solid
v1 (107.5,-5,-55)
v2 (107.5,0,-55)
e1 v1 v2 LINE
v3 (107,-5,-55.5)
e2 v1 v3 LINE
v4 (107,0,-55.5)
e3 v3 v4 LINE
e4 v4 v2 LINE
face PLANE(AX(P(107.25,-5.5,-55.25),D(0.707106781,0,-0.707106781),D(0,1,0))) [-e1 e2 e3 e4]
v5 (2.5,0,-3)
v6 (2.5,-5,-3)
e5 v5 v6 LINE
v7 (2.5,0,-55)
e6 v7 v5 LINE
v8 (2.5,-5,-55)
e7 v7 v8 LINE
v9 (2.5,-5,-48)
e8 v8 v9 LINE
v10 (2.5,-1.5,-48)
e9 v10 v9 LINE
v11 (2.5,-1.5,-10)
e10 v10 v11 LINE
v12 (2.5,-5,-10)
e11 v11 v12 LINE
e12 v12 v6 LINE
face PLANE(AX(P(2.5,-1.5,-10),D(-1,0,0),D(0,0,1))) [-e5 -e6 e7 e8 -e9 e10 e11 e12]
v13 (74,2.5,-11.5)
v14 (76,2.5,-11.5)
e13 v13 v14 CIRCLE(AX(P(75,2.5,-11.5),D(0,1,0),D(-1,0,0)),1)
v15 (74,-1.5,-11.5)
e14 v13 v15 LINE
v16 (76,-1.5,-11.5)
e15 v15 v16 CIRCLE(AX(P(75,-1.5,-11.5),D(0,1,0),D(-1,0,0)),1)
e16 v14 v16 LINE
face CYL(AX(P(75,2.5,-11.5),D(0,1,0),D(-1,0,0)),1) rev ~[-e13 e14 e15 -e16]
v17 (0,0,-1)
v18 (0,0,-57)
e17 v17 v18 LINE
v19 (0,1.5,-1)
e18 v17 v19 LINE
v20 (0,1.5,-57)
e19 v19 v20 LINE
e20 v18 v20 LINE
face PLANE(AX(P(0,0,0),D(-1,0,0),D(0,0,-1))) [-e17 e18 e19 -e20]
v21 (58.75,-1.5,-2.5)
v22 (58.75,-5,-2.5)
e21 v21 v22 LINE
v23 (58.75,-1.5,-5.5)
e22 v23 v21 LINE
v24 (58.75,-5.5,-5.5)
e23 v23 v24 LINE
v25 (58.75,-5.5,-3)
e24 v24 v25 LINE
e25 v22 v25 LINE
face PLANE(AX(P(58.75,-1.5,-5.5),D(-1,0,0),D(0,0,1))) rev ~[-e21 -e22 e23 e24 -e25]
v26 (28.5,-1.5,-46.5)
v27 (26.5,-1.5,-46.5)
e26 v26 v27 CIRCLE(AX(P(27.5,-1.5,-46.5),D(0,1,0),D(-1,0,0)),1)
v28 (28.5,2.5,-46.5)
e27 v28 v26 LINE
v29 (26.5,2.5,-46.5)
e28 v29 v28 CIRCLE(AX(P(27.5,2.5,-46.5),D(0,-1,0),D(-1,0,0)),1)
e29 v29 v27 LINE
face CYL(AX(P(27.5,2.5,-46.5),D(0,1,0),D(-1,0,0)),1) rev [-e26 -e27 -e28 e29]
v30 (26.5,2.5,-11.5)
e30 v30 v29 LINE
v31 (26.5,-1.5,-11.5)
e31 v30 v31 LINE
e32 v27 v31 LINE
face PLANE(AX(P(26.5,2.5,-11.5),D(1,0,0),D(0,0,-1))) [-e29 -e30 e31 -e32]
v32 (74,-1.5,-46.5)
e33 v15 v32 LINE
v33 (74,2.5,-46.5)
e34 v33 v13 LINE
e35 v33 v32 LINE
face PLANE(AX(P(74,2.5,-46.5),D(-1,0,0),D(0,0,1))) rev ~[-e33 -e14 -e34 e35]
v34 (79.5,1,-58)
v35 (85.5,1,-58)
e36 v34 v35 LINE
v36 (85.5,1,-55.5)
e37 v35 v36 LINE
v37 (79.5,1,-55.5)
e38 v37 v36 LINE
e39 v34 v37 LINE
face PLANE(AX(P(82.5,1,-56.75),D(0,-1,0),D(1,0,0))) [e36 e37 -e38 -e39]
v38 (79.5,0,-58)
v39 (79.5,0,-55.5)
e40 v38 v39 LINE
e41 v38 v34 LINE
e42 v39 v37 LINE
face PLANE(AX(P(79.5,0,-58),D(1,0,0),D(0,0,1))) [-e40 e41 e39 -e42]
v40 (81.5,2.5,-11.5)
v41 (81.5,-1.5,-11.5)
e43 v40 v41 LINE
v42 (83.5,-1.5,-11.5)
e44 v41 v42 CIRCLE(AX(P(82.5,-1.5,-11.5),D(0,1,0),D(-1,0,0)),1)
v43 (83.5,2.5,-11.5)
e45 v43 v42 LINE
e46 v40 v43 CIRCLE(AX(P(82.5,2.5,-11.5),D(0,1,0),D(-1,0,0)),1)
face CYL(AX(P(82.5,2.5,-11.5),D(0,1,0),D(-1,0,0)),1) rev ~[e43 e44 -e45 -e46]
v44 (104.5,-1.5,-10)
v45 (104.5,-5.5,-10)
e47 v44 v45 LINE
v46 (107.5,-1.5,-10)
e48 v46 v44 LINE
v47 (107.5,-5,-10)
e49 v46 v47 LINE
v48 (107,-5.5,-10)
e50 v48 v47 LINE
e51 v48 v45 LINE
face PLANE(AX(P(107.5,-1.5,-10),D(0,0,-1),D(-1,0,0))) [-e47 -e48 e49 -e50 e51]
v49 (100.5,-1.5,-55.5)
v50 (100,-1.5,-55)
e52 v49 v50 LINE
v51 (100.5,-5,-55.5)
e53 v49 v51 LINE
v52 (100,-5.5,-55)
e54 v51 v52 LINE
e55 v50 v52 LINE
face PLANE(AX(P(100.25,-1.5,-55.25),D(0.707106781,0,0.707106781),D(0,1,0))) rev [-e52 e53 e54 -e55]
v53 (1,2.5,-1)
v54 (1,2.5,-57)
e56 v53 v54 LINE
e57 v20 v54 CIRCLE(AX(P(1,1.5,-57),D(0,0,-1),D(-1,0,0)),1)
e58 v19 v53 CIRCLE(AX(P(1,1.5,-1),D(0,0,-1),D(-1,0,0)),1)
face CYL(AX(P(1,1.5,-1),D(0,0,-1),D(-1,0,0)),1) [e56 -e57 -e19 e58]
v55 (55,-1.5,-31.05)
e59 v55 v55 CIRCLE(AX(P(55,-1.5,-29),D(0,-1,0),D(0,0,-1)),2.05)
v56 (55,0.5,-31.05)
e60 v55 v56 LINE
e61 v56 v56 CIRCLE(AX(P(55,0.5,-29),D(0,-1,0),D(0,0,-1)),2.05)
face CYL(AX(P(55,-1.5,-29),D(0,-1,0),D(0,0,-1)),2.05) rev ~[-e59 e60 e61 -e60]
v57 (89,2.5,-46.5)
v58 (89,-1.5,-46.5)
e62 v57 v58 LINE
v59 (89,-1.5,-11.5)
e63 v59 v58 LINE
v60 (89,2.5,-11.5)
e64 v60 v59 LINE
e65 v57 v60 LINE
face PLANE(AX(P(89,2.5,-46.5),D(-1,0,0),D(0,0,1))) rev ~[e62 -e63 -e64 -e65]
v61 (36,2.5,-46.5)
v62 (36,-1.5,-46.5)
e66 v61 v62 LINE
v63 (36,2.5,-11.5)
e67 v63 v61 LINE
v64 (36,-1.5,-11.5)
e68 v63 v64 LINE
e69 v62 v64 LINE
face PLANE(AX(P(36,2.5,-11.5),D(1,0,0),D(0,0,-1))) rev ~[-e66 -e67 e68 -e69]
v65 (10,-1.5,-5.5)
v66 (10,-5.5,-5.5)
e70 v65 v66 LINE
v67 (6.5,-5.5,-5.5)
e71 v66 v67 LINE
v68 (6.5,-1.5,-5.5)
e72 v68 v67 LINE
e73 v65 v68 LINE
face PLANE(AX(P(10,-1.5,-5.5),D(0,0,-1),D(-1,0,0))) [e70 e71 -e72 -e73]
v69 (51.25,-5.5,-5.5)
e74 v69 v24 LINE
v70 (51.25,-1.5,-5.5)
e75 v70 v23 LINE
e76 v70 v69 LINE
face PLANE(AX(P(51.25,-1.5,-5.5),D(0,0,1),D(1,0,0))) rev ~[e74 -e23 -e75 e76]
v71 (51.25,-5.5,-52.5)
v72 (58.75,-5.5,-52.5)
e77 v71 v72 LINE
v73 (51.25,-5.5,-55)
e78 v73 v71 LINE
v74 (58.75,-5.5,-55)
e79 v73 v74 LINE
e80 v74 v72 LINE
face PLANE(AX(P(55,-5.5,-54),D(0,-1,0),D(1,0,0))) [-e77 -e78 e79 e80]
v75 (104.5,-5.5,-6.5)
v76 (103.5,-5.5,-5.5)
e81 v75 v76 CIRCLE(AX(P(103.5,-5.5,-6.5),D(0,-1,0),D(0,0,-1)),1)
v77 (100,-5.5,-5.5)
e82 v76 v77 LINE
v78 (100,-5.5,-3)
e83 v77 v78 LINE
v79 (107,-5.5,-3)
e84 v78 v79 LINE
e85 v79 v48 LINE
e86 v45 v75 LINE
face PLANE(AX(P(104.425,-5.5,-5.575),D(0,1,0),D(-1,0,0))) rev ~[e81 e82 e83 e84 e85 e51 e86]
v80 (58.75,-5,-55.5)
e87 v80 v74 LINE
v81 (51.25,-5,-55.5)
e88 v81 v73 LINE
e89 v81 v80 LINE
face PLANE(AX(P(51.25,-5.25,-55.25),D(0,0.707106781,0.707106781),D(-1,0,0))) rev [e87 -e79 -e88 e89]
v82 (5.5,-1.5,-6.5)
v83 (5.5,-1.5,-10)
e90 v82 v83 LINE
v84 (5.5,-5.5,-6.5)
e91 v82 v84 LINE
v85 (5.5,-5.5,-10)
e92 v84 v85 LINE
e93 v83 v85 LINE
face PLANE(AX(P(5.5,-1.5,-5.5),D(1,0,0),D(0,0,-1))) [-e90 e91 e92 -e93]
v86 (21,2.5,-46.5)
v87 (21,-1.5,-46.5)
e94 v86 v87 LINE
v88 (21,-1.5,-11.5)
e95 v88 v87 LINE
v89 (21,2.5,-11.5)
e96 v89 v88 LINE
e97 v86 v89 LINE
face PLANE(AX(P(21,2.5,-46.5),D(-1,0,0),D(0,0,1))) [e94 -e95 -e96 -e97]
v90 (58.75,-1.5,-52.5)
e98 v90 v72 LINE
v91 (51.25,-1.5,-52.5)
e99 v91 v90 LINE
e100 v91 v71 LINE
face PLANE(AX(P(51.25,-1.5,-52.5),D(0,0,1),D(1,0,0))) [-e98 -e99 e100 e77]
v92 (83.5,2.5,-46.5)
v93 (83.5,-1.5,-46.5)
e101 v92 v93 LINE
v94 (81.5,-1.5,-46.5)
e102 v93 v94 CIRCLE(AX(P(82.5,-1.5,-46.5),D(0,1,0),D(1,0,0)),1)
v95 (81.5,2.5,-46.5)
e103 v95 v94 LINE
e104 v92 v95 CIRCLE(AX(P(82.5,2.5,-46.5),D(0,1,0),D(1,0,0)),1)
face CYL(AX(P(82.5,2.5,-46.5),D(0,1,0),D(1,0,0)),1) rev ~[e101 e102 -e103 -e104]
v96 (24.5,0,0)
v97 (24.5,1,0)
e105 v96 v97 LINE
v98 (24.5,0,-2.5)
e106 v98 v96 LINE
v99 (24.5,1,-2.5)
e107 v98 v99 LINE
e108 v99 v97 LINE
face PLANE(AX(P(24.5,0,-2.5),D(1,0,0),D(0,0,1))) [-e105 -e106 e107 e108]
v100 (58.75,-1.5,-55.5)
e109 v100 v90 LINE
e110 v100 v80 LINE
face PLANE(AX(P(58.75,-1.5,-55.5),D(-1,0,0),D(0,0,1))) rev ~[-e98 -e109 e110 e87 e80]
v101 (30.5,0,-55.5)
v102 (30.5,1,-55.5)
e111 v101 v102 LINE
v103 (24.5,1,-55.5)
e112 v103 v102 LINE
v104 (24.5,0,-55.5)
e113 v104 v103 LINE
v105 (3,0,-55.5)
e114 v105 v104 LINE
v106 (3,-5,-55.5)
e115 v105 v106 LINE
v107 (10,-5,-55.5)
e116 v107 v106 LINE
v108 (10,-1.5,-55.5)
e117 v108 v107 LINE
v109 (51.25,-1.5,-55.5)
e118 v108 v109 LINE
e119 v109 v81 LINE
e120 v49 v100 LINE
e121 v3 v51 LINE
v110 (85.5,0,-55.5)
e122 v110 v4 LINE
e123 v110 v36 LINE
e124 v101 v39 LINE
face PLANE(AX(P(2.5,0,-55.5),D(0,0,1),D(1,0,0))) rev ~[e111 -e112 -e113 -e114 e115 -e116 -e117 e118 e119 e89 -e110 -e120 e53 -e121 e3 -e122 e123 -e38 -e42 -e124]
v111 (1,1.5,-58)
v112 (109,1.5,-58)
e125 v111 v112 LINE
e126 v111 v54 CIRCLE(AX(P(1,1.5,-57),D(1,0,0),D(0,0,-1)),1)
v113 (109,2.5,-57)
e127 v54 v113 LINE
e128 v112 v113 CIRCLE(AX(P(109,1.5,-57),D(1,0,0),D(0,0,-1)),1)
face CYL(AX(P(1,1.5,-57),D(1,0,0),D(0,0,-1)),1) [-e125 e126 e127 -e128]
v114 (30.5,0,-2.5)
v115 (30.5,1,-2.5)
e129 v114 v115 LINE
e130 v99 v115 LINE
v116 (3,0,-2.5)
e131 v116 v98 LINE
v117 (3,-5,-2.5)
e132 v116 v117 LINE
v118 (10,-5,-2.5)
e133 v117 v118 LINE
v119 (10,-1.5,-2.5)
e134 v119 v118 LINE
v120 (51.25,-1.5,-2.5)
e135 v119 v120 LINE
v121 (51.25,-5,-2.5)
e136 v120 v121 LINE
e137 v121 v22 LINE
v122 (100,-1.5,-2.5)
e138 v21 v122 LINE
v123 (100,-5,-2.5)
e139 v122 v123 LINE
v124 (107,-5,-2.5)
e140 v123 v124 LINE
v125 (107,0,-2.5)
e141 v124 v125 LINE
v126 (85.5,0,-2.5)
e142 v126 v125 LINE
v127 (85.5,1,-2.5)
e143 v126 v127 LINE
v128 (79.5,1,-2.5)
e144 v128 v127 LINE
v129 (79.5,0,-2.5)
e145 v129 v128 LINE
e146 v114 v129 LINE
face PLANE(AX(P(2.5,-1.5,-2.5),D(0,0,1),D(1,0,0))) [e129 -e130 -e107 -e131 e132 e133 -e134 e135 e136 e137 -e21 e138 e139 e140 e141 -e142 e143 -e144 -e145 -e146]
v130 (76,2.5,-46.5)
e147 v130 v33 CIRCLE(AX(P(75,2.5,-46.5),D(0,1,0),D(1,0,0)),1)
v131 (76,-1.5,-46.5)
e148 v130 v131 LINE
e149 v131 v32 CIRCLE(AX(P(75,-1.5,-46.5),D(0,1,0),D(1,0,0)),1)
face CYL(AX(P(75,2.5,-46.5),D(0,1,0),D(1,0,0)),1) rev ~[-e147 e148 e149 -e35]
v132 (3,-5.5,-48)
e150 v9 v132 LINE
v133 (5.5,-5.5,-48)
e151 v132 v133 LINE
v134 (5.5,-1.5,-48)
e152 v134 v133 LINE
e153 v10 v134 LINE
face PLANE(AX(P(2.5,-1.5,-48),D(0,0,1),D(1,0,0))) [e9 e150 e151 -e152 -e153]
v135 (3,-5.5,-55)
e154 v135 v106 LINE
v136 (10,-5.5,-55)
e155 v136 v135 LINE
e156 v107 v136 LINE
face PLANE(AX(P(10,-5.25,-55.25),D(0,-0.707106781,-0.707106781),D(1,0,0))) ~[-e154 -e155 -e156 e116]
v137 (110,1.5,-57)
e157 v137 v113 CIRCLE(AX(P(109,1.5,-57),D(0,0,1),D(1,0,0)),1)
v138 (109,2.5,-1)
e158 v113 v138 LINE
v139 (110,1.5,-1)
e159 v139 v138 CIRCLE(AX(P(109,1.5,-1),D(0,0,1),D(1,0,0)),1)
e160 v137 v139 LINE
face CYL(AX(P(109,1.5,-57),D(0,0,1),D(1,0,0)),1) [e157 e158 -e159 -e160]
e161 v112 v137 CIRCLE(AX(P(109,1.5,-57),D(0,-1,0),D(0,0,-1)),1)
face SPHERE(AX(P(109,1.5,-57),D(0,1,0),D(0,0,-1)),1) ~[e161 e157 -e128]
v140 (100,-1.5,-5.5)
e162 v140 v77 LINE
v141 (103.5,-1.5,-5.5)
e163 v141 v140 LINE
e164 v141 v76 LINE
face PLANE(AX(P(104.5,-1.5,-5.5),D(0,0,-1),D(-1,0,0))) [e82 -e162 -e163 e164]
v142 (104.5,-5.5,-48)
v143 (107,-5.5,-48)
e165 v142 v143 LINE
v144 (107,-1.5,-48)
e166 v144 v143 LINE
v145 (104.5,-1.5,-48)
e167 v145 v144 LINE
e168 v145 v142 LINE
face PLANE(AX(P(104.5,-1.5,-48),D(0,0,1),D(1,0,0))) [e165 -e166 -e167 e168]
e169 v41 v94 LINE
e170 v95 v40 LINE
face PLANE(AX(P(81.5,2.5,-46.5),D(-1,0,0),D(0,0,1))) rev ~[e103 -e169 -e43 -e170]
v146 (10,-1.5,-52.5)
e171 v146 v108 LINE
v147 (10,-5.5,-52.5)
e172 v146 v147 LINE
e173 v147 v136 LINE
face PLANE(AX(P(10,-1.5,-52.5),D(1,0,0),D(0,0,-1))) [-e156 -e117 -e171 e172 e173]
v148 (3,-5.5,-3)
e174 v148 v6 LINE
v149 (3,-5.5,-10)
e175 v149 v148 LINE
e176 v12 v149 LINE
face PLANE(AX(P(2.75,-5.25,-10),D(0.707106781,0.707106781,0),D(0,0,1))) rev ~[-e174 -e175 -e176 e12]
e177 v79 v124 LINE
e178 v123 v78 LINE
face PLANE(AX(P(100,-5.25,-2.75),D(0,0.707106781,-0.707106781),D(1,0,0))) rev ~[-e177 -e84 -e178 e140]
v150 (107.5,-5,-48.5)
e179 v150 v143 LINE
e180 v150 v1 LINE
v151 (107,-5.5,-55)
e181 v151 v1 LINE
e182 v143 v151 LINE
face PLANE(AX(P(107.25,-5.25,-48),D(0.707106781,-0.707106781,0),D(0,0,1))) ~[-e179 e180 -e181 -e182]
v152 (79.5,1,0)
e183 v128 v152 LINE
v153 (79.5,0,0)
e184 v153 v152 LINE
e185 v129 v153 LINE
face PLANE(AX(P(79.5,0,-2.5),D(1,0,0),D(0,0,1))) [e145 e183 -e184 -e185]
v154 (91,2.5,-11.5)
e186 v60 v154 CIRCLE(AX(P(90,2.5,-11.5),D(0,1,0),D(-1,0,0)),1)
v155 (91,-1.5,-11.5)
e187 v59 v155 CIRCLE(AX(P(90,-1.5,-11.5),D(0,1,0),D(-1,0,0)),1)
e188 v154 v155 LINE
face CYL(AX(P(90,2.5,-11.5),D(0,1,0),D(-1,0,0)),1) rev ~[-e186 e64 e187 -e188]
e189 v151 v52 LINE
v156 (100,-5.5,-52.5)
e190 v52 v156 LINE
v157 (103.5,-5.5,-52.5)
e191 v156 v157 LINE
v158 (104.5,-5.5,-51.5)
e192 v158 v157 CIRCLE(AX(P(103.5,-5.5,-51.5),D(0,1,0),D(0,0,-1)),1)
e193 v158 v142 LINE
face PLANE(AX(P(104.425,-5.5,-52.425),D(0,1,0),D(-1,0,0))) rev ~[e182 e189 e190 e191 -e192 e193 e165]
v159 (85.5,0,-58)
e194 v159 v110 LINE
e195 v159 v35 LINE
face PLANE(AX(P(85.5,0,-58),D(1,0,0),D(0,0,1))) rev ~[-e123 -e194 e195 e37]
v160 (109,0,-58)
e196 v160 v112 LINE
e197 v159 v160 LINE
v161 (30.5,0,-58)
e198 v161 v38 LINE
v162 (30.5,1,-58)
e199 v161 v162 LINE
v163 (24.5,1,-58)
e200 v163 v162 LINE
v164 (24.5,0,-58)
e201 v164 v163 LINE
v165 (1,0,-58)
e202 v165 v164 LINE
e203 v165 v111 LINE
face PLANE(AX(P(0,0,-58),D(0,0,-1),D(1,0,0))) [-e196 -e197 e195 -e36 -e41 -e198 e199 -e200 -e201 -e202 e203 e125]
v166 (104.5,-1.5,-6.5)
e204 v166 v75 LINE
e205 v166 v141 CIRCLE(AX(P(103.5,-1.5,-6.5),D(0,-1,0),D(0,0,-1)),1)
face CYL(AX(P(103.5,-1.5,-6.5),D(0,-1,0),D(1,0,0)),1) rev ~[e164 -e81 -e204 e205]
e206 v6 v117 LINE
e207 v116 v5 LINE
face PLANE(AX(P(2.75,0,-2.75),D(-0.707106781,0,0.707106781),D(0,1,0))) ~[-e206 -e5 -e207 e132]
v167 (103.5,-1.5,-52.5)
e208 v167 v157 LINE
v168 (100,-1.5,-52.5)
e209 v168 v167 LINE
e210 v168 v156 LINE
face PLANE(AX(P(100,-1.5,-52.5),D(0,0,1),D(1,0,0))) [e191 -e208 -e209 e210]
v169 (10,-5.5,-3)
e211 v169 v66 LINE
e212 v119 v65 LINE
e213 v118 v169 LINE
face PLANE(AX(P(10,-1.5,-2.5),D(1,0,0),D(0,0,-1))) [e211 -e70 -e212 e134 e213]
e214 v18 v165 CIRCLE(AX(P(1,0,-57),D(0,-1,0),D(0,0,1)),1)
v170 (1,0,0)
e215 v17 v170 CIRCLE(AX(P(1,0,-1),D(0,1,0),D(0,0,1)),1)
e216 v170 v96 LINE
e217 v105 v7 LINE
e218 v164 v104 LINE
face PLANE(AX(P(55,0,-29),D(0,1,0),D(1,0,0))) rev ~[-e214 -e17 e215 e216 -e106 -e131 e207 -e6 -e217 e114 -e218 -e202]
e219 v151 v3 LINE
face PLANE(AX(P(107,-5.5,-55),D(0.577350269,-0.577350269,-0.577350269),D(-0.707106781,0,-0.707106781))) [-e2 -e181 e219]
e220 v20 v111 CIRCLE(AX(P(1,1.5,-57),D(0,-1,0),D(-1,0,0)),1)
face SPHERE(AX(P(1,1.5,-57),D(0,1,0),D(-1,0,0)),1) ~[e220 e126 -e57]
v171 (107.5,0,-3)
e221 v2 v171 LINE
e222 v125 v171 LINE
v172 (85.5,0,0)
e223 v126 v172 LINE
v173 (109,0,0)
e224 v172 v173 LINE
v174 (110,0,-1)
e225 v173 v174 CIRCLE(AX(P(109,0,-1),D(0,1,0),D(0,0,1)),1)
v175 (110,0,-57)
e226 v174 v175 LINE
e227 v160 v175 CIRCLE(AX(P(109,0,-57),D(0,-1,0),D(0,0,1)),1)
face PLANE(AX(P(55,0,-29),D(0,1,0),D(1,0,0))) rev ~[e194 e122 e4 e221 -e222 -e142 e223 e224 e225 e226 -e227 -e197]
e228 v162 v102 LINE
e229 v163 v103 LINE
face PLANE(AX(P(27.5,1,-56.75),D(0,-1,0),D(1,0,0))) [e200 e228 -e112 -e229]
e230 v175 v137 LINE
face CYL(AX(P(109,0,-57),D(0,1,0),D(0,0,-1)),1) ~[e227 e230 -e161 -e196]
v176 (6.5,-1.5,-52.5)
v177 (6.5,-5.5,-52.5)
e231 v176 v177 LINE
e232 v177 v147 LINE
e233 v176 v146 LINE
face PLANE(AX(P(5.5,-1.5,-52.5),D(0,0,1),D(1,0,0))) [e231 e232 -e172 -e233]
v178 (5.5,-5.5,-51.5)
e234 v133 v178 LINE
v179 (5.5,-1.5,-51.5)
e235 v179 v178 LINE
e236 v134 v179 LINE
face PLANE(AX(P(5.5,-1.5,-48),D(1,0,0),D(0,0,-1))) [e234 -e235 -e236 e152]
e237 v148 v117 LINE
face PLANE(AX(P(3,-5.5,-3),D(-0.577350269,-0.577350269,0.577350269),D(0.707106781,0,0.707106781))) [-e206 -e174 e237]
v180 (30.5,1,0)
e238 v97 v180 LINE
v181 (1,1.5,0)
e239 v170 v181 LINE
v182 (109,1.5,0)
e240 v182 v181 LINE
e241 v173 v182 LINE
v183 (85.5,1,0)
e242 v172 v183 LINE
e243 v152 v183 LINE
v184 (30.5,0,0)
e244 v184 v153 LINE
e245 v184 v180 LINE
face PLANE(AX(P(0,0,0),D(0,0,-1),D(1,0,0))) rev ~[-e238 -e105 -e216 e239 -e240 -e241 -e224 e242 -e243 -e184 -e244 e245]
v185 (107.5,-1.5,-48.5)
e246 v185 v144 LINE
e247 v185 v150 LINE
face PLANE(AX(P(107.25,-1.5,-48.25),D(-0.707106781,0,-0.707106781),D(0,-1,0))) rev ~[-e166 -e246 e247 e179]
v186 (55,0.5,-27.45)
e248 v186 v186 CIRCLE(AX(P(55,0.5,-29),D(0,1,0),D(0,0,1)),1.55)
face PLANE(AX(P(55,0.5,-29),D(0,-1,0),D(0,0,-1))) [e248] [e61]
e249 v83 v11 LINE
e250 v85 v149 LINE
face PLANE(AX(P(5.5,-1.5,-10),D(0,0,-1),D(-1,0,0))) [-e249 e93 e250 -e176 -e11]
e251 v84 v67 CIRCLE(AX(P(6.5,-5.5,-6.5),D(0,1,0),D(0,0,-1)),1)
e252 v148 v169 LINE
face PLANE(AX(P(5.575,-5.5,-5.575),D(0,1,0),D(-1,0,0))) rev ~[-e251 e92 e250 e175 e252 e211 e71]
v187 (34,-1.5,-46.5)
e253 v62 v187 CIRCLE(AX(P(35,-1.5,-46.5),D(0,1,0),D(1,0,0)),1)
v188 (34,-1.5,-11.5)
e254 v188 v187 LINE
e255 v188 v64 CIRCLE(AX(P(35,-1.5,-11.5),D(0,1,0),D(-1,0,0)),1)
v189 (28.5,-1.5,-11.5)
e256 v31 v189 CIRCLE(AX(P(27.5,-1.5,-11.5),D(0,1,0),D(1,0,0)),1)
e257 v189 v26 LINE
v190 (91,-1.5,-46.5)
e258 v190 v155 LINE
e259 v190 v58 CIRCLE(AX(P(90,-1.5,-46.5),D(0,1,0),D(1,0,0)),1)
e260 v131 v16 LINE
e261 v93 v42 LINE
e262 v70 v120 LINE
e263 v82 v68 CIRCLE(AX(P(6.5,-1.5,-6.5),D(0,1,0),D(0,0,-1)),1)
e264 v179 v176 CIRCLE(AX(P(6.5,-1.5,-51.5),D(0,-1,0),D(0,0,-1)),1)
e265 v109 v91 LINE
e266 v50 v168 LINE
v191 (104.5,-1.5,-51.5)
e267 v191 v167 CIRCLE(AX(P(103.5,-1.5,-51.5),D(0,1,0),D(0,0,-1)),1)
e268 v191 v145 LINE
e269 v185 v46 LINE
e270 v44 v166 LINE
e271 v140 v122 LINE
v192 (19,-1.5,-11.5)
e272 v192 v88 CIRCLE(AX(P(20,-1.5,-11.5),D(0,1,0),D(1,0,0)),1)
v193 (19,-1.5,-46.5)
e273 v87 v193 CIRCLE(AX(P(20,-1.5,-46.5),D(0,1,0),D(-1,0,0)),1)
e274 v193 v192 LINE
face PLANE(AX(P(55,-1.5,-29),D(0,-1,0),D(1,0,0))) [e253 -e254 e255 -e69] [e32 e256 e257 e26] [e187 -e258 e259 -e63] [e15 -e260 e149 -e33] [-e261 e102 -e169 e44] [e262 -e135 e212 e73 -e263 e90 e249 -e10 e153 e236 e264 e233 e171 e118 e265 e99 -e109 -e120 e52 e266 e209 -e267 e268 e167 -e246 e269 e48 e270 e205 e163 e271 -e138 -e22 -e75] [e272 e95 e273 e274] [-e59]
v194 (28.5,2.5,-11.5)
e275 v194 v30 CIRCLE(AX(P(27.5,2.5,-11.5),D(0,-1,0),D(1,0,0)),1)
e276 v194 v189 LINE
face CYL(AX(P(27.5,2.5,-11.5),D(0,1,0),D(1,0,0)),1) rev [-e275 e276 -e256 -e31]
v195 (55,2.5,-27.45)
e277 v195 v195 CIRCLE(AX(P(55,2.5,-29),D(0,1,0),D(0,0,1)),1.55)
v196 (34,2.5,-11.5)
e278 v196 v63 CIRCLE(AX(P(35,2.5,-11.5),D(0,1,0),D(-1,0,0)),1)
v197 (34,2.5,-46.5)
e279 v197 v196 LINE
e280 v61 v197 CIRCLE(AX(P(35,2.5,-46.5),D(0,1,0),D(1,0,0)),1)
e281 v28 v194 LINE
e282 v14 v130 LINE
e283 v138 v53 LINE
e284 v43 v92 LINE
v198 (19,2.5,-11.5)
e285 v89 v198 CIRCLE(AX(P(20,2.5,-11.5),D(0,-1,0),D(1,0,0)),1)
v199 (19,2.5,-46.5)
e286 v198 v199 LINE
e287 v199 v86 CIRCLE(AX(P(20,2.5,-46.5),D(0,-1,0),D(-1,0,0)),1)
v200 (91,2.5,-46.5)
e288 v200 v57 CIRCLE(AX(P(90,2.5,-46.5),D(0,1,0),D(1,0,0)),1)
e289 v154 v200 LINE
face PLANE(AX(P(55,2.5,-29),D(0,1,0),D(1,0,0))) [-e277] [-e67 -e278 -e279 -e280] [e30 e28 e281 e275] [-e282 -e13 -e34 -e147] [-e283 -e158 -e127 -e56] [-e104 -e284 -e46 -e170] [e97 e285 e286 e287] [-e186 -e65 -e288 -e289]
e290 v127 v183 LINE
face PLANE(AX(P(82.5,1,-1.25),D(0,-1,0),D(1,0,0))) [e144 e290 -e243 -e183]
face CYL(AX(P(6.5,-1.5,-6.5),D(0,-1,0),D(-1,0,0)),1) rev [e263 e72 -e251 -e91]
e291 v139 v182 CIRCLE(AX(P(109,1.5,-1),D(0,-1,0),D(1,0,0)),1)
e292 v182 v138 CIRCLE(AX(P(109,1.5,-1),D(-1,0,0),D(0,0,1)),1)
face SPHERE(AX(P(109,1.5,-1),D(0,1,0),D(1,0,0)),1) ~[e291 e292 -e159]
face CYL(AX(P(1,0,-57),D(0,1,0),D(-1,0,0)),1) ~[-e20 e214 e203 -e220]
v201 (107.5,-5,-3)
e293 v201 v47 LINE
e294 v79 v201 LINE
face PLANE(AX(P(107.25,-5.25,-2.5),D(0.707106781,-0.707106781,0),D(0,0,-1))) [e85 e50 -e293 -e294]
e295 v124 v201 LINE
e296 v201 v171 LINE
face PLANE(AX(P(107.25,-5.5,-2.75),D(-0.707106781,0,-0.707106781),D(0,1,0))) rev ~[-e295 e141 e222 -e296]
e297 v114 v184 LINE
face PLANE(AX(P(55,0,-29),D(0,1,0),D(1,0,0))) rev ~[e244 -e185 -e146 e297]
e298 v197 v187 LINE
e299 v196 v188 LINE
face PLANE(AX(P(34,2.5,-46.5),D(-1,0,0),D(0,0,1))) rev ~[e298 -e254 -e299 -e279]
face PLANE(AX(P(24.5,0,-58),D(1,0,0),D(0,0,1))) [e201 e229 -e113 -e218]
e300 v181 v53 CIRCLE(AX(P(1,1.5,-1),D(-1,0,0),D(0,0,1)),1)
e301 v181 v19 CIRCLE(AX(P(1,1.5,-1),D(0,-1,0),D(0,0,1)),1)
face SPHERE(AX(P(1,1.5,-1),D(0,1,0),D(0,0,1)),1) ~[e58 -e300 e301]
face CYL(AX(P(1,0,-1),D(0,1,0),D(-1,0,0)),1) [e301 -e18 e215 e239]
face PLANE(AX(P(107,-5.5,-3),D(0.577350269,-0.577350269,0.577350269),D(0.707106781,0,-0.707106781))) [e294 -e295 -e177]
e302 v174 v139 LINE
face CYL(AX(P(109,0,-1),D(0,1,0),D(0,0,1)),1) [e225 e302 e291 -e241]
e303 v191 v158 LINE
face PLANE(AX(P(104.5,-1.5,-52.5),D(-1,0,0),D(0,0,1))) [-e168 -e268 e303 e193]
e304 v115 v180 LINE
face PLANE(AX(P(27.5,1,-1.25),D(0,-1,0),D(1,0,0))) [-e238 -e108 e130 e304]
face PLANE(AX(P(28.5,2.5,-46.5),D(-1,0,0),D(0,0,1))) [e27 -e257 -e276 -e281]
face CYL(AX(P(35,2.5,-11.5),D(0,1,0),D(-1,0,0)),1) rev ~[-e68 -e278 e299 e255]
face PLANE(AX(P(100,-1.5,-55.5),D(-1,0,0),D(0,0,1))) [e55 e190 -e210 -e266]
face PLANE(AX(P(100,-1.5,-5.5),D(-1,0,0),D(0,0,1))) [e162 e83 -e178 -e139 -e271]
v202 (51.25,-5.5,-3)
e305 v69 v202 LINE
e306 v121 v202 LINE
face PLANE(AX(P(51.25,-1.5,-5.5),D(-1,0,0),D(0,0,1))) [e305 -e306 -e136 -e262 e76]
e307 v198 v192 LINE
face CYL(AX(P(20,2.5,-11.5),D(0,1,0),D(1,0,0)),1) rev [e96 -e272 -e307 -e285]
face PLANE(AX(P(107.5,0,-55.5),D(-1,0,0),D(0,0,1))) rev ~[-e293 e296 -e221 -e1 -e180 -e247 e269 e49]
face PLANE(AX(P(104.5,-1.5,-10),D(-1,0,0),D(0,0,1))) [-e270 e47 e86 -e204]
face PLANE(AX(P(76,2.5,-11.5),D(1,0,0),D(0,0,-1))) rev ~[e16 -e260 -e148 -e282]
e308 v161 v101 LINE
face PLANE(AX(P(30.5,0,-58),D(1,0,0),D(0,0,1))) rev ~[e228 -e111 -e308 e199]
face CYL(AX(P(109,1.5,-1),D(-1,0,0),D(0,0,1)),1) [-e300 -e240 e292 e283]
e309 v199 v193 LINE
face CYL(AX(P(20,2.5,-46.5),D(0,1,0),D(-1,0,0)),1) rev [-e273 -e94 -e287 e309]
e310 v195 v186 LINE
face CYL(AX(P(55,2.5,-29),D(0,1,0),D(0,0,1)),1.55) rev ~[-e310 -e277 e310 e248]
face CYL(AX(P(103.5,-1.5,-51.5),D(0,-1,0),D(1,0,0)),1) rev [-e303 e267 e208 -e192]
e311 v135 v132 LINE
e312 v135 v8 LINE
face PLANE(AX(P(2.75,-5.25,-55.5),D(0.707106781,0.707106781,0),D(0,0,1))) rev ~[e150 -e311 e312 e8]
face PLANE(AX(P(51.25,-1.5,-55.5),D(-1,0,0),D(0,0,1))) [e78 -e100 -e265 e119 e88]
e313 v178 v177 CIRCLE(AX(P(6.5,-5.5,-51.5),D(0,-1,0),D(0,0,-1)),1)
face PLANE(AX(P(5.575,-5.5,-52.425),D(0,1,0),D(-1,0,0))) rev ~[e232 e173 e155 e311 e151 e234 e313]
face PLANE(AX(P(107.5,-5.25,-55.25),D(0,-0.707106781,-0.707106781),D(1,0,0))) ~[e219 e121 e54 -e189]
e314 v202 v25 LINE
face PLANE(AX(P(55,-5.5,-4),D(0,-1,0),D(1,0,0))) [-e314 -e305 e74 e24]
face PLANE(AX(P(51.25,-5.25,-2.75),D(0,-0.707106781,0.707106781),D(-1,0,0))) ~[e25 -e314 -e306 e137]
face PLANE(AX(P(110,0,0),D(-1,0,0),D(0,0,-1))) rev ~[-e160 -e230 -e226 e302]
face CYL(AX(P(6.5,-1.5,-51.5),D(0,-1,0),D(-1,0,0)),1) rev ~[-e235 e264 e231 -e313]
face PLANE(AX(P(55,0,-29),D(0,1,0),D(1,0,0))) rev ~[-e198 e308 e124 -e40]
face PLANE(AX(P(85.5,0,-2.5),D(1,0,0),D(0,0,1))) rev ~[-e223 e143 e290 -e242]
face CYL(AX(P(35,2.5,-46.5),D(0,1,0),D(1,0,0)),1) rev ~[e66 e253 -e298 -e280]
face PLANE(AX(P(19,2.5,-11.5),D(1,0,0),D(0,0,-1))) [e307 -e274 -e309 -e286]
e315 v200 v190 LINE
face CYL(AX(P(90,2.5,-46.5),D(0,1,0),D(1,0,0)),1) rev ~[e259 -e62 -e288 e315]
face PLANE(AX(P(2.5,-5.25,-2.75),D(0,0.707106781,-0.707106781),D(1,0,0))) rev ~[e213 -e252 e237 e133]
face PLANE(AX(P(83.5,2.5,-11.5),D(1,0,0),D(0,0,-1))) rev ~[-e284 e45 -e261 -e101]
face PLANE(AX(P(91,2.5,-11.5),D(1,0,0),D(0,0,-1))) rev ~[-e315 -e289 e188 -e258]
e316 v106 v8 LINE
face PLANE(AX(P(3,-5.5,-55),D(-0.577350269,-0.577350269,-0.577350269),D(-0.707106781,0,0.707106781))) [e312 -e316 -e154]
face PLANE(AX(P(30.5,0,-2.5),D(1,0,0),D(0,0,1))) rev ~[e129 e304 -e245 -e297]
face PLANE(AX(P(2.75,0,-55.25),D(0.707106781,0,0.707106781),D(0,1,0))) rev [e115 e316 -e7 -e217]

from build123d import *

# Parameters (mm, degrees)
SKETCH1_W           = 110
SKETCH1_H           = 58
BOSS_EXTRUDE1_DEPTH = 2.5
SKETCH2_W           = 105
SKETCH2_H           = 53
BOSS_EXTRUDE2_DEPTH = 1.5
SKETCH3_W           = 7.5
SKETCH3_H           = 3
BOSS_EXTRUDE3_DEPTH = 4
FILLET1_R           = 1
SKETCH4_W           = 6
SKETCH4_H           = 2.5
CUT_EXTRUDE1_DEPTH  = 1
FILLET2_R           = 1
CHAMFER1_SIZE       = 0.5
CUT_EXTRUDE2_DEPTH  = 125.611395948
FILLET3_R           = 1
SKETCH6_R           = 1.55
CUT_EXTRUDE3_DEPTH  = 125.611395948
SKETCH7_R           = 2.05
CUT_EXTRUDE4_DEPTH  = 2


with BuildPart() as part:
    # Sketch1 → Boss-Extrude1 (new body)
    with BuildSketch(Plane(origin=(0, 0, 0), x_dir=(1, 0, 0), z_dir=(0, 1, 0))):
        with Locations((55, 29)):
            Rectangle(SKETCH1_W, SKETCH1_H)
    extrude(amount=BOSS_EXTRUDE1_DEPTH)

    # Sketch2 → Boss-Extrude2 (add)
    with BuildSketch(Plane.XZ):
        with Locations((55, -29)):
            Rectangle(SKETCH2_W, SKETCH2_H)
    extrude(amount=BOSS_EXTRUDE2_DEPTH)

    # Sketch3 → Boss-Extrude3 (add)
    with BuildSketch(Plane.XZ.offset(1.5)):
        with Locations((55, -4)):
            Rectangle(SKETCH3_W, SKETCH3_H)
        Polygon((2.5, -2.5), (10, -2.5), (10, -5.5), (5.5, -5.5), (5.5, -10), (2.5, -10), align=None)
        Polygon((107.5, -2.5), (107.5, -10), (104.5, -10), (104.5, -5.5), (100, -5.5), (100, -2.5), align=None)
        Polygon((107.5, -55.5), (100, -55.5), (100, -52.5), (104.5, -52.5), (104.5, -48), (107.5, -48), align=None)
        with Locations((55, -54)):
            Rectangle(SKETCH3_W, SKETCH3_H)
        Polygon((2.5, -55.5), (2.5, -48), (5.5, -48), (5.5, -52.5), (10, -52.5), (10, -55.5), align=None)
    extrude(amount=BOSS_EXTRUDE3_DEPTH)

    # Fillet1
    fillet1_edges = [part.edges().sort_by_distance(p)[0] for p in [
        (104.5, -3.5, -52.5),
        (5.5, -3.5, -5.5),
        (104.5, -3.5, -5.5),
        (5.5, -3.5, -52.5),
    ]]
    fillet(fillet1_edges, radius=FILLET1_R)

    # Sketch4 → Cut-Extrude1 (cut)
    with BuildSketch(Plane.XZ):
        with Locations((27.5, -1.25)):
            Rectangle(SKETCH4_W, SKETCH4_H)
        with Locations((82.5, -1.25)):
            Rectangle(SKETCH4_W, SKETCH4_H)
        with Locations((82.5, -56.75)):
            Rectangle(SKETCH4_W, SKETCH4_H)
        with Locations((27.5, -56.75)):
            Rectangle(SKETCH4_W, SKETCH4_H)
    extrude(amount=-CUT_EXTRUDE1_DEPTH, mode=Mode.SUBTRACT)

    # Fillet2
    fillet2_edges = [part.edges().sort_by_distance(p)[0] for p in [
        (0, 1.25, -58),
        (110, 1.25, -58),
        (110, 1.25, 0),
        (0, 1.25, 0),
    ]]
    fillet(fillet2_edges, radius=FILLET2_R)

    # Chamfer1
    chamfer1_edges = [part.edges().sort_by_distance(p)[0] for p in [
        (2.5, -2.75, -2.5),
        (2.5, -2.75, -55.5),
        (107.5, -2.75, -55.5),
        (107.5, -2.75, -2.5),
        (107.5, -3.5, -48),
        (100, -3.5, -55.5),
        (107.5, -5.5, -51.75),
        (103.75, -5.5, -55.5),
        (2.5, -5.5, -6.25),
        (6.25, -5.5, -2.5),
        (55, -5.5, -2.5),
        (103.75, -5.5, -2.5),
        (107.5, -5.5, -6.25),
        (55, -5.5, -55.5),
        (6.25, -5.5, -55.5),
        (2.5, -5.5, -51.75),
    ]]
    chamfer(chamfer1_edges, length=CHAMFER1_SIZE)

    # Sketch5 → Cut-Extrude2 (cut, through all)
    with BuildSketch(Plane(origin=(0, 2.5, 0), x_dir=(1, 0, 0), z_dir=(0, 1, 0))):
        with BuildLine():
            Line((28.5, 46.5), (28.5, 11.5))
            ThreePointArc((28.5, 11.5), (27.5, 10.5), (26.5, 11.5))
            Line((26.5, 11.5), (26.5, 46.5))
            ThreePointArc((26.5, 46.5), (27.5, 47.5), (28.5, 46.5))
        make_face()
        with BuildLine():
            Line((34, 46.5), (34, 11.5))
            ThreePointArc((34, 11.5), (35, 10.5), (36, 11.5))
            Line((36, 11.5), (36, 46.5))
            ThreePointArc((36, 46.5), (35, 47.5), (34, 46.5))
        make_face()
        with BuildLine():
            Line((21, 46.5), (21, 11.5))
            ThreePointArc((21, 11.5), (20, 10.5), (19, 11.5))
            Line((19, 11.5), (19, 46.5))
            ThreePointArc((19, 46.5), (20, 47.5), (21, 46.5))
        make_face()
        with BuildLine():
            Line((89, 46.5), (89, 11.5))
            ThreePointArc((89, 11.5), (90, 10.5), (91, 11.5))
            Line((91, 11.5), (91, 46.5))
            ThreePointArc((91, 46.5), (90, 47.5), (89, 46.5))
        make_face()
        with BuildLine():
            Line((74, 46.5), (74, 11.5))
            ThreePointArc((74, 11.5), (75, 10.5), (76, 11.5))
            Line((76, 11.5), (76, 46.5))
            ThreePointArc((76, 46.5), (75, 47.5), (74, 46.5))
        make_face()
        with BuildLine():
            Line((81.5, 46.5), (81.5, 11.5))
            ThreePointArc((81.5, 11.5), (82.5, 10.5), (83.5, 11.5))
            Line((83.5, 11.5), (83.5, 46.5))
            ThreePointArc((83.5, 46.5), (82.5, 47.5), (81.5, 46.5))
        make_face()
    extrude(amount=-CUT_EXTRUDE2_DEPTH, mode=Mode.SUBTRACT)

    # Fillet3
    fillet3_edges = [part.edges().sort_by_distance(p)[0] for p in [
        (0, 2.5, -29),
        (55, 2.5, -58),
        (55, 2.5, 0),
        (110, 2.5, -29),
        (109.707106781, 2.5, -0.292893219),
        (109.707106781, 2.5, -57.707106781),
        (0.292893219, 2.5, -0.292893219),
        (0.292893219, 2.5, -57.707106781),
    ]]
    fillet(fillet3_edges, radius=FILLET3_R)

    # Sketch6 → Cut-Extrude3 (cut, through all)
    with BuildSketch(Plane(origin=(0, 2.5, 0), x_dir=(1, 0, 0), z_dir=(0, 1, 0))):
        with Locations(Location((55, 29, 0), (0, 0, 270))):
            Circle(SKETCH6_R)
    extrude(amount=-CUT_EXTRUDE3_DEPTH, mode=Mode.SUBTRACT)

    # Sketch7 → Cut-Extrude4 (cut)
    with BuildSketch(Plane.XZ.offset(1.5)):
        with Locations(Location((55, -29, 0), (0, 0, 270))):
            Circle(SKETCH7_R)
    extrude(amount=-CUT_EXTRUDE4_DEPTH, mode=Mode.SUBTRACT)


solid = part.part
